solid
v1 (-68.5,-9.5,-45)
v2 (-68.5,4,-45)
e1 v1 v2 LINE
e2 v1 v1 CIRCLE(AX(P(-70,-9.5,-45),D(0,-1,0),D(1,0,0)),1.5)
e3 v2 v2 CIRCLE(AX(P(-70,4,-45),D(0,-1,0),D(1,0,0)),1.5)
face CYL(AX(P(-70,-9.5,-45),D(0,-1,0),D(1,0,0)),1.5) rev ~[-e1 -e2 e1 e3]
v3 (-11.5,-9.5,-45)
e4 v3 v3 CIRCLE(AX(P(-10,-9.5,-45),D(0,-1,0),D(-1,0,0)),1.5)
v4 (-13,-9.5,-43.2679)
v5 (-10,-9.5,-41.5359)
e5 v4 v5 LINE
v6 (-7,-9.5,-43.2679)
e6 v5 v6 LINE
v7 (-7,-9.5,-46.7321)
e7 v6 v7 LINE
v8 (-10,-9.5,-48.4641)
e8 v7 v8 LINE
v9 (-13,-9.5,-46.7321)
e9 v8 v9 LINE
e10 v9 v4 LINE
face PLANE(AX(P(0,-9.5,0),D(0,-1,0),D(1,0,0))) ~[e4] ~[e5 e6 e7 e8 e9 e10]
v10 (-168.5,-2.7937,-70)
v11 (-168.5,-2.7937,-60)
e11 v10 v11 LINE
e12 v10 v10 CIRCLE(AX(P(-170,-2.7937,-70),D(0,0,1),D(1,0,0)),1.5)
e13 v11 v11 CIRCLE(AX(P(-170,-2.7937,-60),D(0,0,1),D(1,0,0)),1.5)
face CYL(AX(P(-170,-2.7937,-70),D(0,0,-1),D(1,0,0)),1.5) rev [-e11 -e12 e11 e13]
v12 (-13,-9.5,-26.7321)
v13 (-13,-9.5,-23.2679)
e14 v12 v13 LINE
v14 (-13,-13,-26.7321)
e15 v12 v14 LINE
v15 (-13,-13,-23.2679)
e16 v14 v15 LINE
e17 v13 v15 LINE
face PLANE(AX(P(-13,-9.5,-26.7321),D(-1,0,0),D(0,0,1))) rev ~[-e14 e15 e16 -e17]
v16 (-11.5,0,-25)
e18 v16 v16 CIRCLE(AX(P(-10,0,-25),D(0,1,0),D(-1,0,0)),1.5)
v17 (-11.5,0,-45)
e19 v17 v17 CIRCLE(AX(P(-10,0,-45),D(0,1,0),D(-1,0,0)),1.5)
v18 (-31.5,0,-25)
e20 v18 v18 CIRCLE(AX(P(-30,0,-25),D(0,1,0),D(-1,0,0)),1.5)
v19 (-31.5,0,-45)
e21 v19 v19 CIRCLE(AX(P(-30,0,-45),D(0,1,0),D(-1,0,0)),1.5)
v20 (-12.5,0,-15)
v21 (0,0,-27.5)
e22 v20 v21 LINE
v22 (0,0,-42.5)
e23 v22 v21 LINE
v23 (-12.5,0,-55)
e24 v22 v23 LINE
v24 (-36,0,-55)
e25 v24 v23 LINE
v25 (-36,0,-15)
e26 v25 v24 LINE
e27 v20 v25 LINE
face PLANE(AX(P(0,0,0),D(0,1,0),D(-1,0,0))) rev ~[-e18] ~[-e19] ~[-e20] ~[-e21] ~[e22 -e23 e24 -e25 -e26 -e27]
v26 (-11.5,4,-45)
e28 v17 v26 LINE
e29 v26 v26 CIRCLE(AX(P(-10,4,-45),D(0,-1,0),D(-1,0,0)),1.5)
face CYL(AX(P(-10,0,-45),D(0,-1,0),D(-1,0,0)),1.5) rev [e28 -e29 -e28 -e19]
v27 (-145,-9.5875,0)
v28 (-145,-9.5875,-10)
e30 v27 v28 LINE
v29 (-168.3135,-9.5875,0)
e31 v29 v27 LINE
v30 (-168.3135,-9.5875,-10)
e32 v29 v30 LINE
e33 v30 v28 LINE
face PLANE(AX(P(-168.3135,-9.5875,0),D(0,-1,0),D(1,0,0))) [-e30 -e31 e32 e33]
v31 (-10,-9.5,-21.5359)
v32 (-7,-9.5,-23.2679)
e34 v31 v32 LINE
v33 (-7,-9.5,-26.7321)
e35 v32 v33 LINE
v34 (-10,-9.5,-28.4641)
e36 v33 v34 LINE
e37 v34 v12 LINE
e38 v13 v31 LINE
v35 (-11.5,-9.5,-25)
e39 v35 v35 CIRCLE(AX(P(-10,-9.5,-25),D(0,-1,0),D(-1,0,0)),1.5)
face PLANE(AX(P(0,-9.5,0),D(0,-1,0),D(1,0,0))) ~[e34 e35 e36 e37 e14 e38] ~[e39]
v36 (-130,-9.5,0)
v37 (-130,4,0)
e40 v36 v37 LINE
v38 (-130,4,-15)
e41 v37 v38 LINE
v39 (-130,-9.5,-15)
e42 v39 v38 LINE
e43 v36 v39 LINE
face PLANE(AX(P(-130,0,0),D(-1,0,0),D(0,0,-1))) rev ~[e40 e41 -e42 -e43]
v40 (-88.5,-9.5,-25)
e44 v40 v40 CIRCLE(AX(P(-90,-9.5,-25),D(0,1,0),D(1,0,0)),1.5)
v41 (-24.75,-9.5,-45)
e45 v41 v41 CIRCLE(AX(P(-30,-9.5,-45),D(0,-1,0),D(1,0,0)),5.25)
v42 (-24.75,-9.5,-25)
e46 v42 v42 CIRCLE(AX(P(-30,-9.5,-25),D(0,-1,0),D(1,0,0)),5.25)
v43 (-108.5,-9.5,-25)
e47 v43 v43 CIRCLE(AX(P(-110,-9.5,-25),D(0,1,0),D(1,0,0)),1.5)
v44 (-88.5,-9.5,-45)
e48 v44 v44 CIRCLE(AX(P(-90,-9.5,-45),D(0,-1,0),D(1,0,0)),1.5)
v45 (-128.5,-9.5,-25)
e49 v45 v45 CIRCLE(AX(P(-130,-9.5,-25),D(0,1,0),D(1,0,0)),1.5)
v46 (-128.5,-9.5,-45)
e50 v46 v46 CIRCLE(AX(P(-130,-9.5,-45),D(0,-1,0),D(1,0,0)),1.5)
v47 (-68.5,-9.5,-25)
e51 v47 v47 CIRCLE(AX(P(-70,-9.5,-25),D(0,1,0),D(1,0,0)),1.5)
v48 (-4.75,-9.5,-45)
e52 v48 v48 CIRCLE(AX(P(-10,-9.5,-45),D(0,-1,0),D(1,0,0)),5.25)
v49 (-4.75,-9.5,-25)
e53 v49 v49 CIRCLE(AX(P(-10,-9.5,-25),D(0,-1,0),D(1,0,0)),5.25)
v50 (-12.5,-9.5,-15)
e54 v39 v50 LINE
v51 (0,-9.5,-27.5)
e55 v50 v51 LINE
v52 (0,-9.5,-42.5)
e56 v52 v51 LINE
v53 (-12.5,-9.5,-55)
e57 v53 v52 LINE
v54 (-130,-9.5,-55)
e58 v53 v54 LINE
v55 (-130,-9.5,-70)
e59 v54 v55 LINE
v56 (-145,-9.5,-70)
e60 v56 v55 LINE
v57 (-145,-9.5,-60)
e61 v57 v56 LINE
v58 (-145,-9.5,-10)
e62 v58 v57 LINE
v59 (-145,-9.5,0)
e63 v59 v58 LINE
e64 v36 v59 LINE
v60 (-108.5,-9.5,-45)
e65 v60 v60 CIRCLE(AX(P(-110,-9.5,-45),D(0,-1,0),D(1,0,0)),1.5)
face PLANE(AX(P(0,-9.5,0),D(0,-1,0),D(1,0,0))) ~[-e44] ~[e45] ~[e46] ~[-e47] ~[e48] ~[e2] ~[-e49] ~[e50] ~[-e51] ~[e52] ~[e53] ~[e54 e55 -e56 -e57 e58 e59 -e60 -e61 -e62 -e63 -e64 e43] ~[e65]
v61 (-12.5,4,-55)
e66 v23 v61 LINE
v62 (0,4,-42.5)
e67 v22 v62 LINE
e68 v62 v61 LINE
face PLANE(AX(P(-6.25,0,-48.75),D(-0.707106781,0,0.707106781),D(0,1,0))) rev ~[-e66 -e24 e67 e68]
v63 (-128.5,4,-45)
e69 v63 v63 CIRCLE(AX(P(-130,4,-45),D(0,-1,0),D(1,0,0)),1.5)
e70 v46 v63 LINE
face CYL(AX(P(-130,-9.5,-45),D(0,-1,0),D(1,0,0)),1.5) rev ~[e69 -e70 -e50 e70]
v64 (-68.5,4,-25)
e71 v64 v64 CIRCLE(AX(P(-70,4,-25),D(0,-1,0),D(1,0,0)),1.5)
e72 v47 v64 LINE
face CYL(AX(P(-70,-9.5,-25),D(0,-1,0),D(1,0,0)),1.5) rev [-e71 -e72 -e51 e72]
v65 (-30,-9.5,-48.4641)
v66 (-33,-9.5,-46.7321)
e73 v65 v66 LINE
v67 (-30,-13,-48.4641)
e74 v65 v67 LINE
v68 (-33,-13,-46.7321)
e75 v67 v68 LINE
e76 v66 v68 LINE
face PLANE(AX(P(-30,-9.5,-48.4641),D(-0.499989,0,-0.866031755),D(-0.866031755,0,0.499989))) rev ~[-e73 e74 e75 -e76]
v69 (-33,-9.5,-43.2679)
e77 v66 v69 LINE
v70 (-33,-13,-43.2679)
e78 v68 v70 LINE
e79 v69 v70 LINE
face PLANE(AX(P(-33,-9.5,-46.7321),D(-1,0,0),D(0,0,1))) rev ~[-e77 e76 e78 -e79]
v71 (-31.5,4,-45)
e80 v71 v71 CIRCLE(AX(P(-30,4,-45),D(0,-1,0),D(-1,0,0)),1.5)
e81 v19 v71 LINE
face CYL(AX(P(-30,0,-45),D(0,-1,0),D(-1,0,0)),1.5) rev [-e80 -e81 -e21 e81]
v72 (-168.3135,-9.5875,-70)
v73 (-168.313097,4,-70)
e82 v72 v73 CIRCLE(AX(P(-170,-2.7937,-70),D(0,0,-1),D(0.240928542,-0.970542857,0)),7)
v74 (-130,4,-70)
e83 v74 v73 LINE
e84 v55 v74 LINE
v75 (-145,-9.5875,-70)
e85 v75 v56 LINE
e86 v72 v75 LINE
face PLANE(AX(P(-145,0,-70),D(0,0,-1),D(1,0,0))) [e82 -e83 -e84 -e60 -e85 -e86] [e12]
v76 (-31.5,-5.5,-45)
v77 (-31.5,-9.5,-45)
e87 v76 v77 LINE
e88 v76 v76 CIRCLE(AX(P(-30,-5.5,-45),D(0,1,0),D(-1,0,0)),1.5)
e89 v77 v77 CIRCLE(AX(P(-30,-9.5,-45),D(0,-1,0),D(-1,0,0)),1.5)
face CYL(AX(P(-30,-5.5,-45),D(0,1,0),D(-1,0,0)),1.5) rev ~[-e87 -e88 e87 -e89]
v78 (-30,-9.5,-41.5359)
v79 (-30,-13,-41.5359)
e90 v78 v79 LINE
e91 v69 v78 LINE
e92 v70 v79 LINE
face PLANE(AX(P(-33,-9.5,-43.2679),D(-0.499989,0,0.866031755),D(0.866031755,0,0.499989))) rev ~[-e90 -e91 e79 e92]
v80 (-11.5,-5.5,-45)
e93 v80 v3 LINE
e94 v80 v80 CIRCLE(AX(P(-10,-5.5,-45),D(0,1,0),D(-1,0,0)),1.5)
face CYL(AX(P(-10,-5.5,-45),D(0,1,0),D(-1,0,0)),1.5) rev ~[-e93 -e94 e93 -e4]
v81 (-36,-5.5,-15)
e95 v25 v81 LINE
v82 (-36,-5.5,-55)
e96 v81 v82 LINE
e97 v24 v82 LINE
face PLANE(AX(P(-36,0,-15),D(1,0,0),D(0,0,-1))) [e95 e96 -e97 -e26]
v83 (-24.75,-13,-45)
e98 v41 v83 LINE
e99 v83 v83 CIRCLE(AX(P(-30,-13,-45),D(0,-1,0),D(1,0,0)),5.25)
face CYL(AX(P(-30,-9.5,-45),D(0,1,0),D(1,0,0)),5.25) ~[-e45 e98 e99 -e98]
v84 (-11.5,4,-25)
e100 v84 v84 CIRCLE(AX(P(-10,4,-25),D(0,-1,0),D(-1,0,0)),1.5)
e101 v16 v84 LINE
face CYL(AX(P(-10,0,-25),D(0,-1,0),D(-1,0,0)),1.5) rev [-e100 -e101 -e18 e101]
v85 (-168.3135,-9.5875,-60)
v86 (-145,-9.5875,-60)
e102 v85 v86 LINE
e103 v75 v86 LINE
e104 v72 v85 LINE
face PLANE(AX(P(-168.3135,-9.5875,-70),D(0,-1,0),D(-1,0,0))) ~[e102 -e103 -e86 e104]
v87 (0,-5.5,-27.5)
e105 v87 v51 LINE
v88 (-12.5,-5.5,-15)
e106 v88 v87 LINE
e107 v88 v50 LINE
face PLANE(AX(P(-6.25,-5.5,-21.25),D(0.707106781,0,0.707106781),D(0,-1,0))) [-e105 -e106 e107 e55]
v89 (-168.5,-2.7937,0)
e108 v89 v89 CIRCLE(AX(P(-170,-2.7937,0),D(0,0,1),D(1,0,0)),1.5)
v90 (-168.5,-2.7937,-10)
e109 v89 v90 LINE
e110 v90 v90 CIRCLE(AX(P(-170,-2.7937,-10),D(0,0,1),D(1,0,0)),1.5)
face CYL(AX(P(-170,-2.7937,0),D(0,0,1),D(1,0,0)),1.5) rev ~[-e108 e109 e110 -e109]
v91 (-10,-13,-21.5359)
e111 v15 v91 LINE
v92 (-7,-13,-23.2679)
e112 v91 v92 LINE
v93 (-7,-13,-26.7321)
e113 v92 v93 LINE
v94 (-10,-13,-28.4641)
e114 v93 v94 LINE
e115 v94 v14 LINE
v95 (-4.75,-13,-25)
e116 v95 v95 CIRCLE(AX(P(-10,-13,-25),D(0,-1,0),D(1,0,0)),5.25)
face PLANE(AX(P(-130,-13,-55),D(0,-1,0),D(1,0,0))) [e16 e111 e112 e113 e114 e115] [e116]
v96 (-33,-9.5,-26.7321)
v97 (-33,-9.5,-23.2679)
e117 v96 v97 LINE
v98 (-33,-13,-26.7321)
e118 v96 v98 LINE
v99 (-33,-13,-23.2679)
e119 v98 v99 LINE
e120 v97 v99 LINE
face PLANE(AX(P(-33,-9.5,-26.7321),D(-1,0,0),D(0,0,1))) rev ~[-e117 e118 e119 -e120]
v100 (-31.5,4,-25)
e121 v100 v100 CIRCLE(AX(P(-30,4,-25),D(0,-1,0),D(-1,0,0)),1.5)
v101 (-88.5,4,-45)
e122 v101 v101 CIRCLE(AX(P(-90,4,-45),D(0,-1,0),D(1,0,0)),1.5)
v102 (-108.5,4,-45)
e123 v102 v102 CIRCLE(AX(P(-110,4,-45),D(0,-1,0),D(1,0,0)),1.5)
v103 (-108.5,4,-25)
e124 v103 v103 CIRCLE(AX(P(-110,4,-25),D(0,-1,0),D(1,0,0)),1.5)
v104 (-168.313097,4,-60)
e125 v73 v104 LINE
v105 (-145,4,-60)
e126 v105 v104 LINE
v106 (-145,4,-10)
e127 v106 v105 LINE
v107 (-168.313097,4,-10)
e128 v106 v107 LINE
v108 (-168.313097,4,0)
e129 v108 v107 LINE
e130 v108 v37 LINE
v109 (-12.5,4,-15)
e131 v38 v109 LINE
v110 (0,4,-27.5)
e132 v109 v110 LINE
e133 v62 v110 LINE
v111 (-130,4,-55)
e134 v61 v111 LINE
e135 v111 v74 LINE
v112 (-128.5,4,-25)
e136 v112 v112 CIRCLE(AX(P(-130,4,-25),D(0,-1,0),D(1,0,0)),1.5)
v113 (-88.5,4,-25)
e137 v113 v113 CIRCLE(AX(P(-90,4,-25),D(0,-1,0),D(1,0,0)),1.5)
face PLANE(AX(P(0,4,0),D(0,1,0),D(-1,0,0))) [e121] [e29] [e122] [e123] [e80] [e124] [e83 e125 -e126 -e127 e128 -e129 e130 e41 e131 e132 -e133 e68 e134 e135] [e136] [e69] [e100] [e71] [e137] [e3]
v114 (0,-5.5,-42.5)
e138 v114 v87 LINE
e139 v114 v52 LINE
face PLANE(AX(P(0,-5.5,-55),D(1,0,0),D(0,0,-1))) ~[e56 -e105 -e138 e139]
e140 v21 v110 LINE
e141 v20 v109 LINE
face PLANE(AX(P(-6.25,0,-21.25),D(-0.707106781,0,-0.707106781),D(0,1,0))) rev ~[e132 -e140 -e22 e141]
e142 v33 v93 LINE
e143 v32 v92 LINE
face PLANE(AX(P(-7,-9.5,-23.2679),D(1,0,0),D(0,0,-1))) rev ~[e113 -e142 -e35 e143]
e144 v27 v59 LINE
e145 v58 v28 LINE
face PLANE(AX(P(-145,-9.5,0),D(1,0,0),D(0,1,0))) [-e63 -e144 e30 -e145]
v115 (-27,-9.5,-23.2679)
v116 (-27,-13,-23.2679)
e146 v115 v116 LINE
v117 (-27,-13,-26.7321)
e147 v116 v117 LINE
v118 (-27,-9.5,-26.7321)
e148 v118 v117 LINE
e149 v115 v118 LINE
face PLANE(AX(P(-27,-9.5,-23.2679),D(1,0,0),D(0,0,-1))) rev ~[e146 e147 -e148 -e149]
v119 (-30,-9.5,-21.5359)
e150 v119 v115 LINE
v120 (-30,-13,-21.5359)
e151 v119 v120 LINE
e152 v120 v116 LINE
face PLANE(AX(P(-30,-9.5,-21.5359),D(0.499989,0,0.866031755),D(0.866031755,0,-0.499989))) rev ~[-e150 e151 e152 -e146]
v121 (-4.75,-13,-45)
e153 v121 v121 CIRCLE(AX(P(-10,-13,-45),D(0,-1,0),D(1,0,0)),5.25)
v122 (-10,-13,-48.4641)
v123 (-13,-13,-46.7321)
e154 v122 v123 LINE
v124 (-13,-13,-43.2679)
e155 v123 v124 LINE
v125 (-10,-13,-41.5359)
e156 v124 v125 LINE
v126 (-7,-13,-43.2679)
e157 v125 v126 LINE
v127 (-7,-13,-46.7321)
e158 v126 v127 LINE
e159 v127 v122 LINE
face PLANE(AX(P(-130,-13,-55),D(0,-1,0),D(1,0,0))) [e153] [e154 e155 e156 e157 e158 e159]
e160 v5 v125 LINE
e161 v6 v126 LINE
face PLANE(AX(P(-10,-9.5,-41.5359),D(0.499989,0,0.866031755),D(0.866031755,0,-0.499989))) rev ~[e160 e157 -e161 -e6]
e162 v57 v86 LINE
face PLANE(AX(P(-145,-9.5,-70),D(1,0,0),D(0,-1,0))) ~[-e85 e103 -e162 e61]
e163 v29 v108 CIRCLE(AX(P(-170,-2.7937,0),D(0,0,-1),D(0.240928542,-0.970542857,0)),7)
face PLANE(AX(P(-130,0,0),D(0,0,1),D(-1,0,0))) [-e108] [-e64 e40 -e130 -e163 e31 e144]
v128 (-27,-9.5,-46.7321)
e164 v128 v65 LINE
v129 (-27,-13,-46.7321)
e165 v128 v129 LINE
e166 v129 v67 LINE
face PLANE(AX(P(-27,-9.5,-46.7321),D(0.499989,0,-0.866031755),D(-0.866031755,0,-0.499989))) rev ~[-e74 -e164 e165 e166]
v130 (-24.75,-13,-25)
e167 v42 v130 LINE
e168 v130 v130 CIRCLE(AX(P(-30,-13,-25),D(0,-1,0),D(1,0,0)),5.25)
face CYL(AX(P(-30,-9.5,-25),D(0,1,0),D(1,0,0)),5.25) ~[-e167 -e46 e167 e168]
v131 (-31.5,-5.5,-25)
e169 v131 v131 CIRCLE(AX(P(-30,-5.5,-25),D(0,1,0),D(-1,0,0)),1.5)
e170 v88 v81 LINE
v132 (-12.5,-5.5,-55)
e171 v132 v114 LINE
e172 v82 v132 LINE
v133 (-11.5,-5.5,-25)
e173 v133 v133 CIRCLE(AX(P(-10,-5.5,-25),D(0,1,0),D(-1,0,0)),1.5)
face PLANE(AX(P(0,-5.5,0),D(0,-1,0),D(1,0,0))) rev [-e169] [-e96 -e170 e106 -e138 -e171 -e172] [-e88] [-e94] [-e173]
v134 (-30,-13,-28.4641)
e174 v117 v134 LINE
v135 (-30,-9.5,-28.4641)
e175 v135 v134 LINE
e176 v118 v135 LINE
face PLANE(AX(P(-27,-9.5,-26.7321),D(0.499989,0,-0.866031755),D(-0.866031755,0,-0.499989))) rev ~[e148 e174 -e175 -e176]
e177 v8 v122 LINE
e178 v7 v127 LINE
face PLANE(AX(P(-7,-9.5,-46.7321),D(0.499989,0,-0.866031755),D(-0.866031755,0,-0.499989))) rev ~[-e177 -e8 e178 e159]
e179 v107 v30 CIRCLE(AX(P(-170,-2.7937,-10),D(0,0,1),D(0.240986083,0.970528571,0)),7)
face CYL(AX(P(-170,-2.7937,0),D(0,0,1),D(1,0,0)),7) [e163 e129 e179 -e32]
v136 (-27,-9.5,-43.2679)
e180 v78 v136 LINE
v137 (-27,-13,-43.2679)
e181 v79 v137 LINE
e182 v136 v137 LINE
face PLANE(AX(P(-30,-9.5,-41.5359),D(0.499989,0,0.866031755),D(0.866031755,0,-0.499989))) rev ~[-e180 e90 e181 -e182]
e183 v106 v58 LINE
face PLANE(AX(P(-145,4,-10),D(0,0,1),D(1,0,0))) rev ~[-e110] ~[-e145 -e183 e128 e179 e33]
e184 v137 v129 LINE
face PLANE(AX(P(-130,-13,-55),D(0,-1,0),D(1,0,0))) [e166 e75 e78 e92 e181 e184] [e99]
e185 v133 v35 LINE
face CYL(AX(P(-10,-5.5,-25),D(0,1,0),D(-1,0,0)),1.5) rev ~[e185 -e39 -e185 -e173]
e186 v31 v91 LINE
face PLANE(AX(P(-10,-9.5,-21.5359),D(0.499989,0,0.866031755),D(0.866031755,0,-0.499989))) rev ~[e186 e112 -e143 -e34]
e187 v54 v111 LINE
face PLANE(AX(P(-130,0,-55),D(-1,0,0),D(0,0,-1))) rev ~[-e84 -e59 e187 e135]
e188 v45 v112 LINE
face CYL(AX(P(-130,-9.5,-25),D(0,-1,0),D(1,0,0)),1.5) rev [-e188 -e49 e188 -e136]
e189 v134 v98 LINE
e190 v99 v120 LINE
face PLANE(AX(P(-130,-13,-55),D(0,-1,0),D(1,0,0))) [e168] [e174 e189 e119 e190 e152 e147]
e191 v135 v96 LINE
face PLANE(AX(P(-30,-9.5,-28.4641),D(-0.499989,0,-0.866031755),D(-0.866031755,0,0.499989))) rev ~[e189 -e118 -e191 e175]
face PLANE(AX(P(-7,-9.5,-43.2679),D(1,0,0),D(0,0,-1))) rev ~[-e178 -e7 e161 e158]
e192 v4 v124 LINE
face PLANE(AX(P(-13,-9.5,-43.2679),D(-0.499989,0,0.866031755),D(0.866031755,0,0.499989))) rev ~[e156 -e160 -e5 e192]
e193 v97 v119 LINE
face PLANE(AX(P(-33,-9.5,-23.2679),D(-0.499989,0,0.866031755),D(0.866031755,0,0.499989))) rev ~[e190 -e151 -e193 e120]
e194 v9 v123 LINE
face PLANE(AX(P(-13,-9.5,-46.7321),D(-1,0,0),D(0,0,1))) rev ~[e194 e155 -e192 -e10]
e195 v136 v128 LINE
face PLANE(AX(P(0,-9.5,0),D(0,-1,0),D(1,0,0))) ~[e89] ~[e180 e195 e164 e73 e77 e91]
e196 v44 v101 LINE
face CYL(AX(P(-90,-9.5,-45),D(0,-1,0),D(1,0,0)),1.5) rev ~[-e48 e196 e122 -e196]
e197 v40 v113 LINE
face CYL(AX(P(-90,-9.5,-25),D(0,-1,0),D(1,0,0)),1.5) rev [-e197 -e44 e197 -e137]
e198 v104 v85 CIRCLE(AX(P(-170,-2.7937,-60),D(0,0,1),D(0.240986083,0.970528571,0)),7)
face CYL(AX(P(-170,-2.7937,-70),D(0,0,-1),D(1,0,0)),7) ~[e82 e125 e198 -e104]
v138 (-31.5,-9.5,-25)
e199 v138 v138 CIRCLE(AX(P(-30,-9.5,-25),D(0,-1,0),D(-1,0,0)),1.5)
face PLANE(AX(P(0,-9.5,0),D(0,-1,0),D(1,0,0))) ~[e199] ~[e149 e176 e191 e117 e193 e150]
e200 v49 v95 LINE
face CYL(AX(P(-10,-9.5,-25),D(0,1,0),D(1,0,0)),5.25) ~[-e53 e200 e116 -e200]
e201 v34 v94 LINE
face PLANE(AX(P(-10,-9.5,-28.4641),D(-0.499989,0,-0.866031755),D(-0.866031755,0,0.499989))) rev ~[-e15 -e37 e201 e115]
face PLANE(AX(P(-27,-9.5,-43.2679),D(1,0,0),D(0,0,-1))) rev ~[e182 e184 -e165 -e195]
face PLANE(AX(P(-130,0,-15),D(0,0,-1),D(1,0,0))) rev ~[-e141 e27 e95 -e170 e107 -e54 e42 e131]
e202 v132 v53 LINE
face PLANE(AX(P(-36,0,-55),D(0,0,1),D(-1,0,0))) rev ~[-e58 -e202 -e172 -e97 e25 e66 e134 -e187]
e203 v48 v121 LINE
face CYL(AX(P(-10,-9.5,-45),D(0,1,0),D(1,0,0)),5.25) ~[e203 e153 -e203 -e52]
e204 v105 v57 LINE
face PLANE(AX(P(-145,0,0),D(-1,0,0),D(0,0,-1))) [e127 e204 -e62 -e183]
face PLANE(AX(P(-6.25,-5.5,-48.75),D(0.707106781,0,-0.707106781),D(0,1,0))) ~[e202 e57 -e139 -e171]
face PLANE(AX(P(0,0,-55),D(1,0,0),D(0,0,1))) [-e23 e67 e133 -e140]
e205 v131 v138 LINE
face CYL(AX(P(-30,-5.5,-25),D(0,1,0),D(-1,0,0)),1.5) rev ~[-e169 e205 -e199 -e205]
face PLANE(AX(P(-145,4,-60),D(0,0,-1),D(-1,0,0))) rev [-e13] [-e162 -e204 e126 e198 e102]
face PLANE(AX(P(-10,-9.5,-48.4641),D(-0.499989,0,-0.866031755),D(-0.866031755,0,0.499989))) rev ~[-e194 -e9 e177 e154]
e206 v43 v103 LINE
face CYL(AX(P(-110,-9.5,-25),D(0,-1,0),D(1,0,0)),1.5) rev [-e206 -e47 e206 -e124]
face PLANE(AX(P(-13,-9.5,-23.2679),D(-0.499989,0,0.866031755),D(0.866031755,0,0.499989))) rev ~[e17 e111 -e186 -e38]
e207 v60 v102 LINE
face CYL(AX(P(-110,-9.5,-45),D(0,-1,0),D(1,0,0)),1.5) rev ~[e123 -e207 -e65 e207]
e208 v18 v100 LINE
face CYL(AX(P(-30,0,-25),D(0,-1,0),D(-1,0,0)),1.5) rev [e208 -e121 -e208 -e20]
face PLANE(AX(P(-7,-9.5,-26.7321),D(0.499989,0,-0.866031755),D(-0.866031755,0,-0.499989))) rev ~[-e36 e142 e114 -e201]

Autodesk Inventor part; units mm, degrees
sketch "Sketch1" plane through (0, 0, 0) normal (0, 1, 0) x (-1, 0, 0)
  line L0 (0, 0) -> (145, 0)
  line L1 (145, 0) -> (145, -70)
  line L2 (145, -70) -> (0, -70)
  line L3 (0, -70) -> (0, 0)
  line L4 (10, -25) -> (30, -25)
  line L5 (30, -25) -> (30, -45)
  line L6 (30, -45) -> (10, -45)
  line L7 (10, -45) -> (10, -25)
  circle A0 centre (10, -25) radius 1.5
  circle A1 centre (30, -45) radius 1.5
  circle A2 centre (30, -25) radius 1.5
  circle A3 centre (10, -45) radius 1.5
  line L8 (145, 0) -> (130, 0)
  line L9 (130, 0) -> (130, -70)
  line L10 (130, -70) -> (145, -70)
  line L11 (145, -70) -> (145, 0)
  line L12 (130, -15) -> (0, -15)
  line L13 (0, -15) -> (0, -55)
  line L14 (0, -55) -> (130, -55)
  line L15 (130, -55) -> (130, -15)
  line L16 (36, -15) -> (36, -55)
  point P0 (130, 0)
  point P1 (0, -15)
  dimension "d0" = 145
  dimension "d1" = 70
  dimension "d2" = 20
  dimension "d3" = 20
  dimension "d4" = 25
  dimension "d5" = 10
  dimension "d6" = 3
  dimension "d7" = 3
  dimension "d8" = 3
  dimension "d9" = 3
  dimension "d18" = 15
  dimension "d19" = 15
  dimension "d23" = 36
  dimension "d66" = 15
extrude "Extrusion1" add sketch "Sketch1" along normal blind 4 contours L0 L1 L2 L9 | L12 L16 L14 L3 | L9 L14 L16 L12 | L4 A2 L5 A1 L6 A3 L7 A0
extrude "Extrusion2" add sketch "Sketch1" against normal blind 5.5 contours L0 L1 L2 L9 | L9 L14 L16 L12
ref_plane "Work Plane1" through (0, -2.75, 0) normal (0, -1, 0) x (1, 0, 0)
mirror "Mirror1" about plane through (0, -2.75, 0) normal (0, -1, 0) of "Extrusion1"
chamfer "Chamfer1" distance 12.5 angle 45 4 edges at (0, 2, -15) (0, -7.5, -15) (0, -7.5, -55) (0, 2, -55)
ref_plane "Work Plane2" through (-152.5, -8.5, -20) normal (0, 0, -1) x (-1, 0, 0)
sketch "Sketch5" plane through (-130, -9.5, -55) normal (0, -1, 0) x (1, 0, 0)
  circle A0 centre (100, 30) radius 1.5 projected
  line L0 (100, 33.4641) -> (103, 31.7321)
  line L1 (103, 31.7321) -> (103, 28.2679)
  line L2 (103, 28.2679) -> (100, 26.5359)
  line L3 (100, 26.5359) -> (97, 28.2679)
  line L4 (97, 28.2679) -> (97, 31.7321)
  line L5 (97, 31.7321) -> (100, 33.4641)
  circle A1 centre (120, 30) radius 1.5 projected
  line L6 (120, 33.4641) -> (123, 31.7321)
  line L7 (123, 31.7321) -> (123, 28.2679)
  line L8 (123, 28.2679) -> (120, 26.5359)
  line L9 (120, 26.5359) -> (117, 28.2679)
  line L10 (117, 28.2679) -> (117, 31.7321)
  line L11 (117, 31.7321) -> (120, 33.4641)
  circle A2 centre (120, 10) radius 1.5 projected
  line L12 (120, 13.4641) -> (123, 11.7321)
  line L13 (123, 11.7321) -> (123, 8.2679)
  line L14 (123, 8.2679) -> (120, 6.5359)
  line L15 (120, 6.5359) -> (117, 8.2679)
  line L16 (117, 8.2679) -> (117, 11.7321)
  line L17 (117, 11.7321) -> (120, 13.4641)
  circle A3 centre (100, 10) radius 1.5 projected
  line L18 (100, 13.4641) -> (103, 11.7321)
  line L19 (103, 11.7321) -> (103, 8.2679)
  line L20 (103, 8.2679) -> (100, 6.5359)
  line L21 (100, 6.5359) -> (97, 8.2679)
  line L22 (97, 8.2679) -> (97, 11.7321)
  line L23 (97, 11.7321) -> (100, 13.4641)
  circle A4 centre (100, 30) radius 5.25
  circle A5 centre (120, 30) radius 5.25
  circle A6 centre (120, 10) radius 5.25
  circle A7 centre (100, 10) radius 5.25
  point P0 (130, 55)
  dimension "d44" = 6
  dimension "d45" = 6
  dimension "d46" = 6
  dimension "d47" = 6
  dimension "d48" = 10.5
  dimension "d49" = 10.5
  dimension "d50" = 10.5
  dimension "d51" = 10.5
extrude "Extrusion5" add sketch "Sketch5" along normal blind 3.5 contours A4 | A5 | A6 | A7
sketch "Sketch6" plane through (-130, -9.5, -55) normal (0, -1, 0) x (1, 0, 0)
  circle A0 centre (0, 10) radius 1.5
  line L0 (117.5, 0) -> (0, 0) projected
  line L1 (0, 0) -> (0, -15) projected
  circle A1 centre (20, 10) radius 1.5
  circle A2 centre (40, 10) radius 1.5
  circle A3 centre (60, 10) radius 1.5
  point P0 (130, 55)
  point P1 (0, -5)
  dimension "d54" = 3
  dimension "d55" = 10
  dimension "d56" = 0
  dimension "d59" = 20
extrude "Extrusion6" cut sketch "Sketch6" against normal blind 33.25
ref_plane "Work Plane3" through (-130, -9.5, -35) normal (0, 0, -1) x (-1, 0, 0)
mirror "Mirror2" about plane through (-130, -9.5, -35) normal (0, 0, -1) of "Extrusion6"
sketch "Sketch7" plane through (-145, 4, 0) normal (0, 0, 1) x (1, 0, 0)
  point P0 (145, -4)
sketch "Sketch8" plane through (-145, 4, 0) normal (0, 0, 1) x (1, 0, 0)
  line L0 (0, 0) -> (15, 0) projected
  line L1 (15, 0) -> (0, 0) projected
  circle A0 centre (-25, -6.7937) radius 1.5
  circle A1 centre (-25, -6.7937) radius 7
  line L2 (0, -13.5) -> (0, 0) projected
  line L3 (0, -13.5) -> (0, 0) projected
  line L4 (-50, -13.5875) -> (0, -13.5875)
  line L5 (0, -13.5875) -> (0, 0)
  line L6 (0, 0) -> (-50, 0)
  line L7 (-50, 0) -> (-50, -13.5875)
  line L8 (-50, -13.5875) -> (0, 0) construction
  line L9 (0, -13.5875) -> (-50, 0) construction
  point P0 (145, -4)
  point P1 (-10, -1.851)
  point P2 (-10, -11.649)
  point P3 (-26.6868, -13.5875)
  point P4 (-26.6868, 0)
  point P5 (-23.3132, 0)
  point P6 (-23.3132, -13.5875)
  dimension "d72" = 3
  dimension "d73" = 14
  dimension "d74" = 25
extrude "Extrusion7" add sketch "Sketch8" against normal blind 10 contours A1 L4 L6 | A1 L6 L2 L5 L4 | L6 A1 | A1 L4
ref_plane "Work Plane4" through (-130, -9.5, -35) normal (0, 0, 1) x (1, 0, 0)
mirror "Mirror3" about plane through (-130, -9.5, -35) normal (0, 0, 1) of "Extrusion7"
properties part number "RobotBaseMotorExt"
